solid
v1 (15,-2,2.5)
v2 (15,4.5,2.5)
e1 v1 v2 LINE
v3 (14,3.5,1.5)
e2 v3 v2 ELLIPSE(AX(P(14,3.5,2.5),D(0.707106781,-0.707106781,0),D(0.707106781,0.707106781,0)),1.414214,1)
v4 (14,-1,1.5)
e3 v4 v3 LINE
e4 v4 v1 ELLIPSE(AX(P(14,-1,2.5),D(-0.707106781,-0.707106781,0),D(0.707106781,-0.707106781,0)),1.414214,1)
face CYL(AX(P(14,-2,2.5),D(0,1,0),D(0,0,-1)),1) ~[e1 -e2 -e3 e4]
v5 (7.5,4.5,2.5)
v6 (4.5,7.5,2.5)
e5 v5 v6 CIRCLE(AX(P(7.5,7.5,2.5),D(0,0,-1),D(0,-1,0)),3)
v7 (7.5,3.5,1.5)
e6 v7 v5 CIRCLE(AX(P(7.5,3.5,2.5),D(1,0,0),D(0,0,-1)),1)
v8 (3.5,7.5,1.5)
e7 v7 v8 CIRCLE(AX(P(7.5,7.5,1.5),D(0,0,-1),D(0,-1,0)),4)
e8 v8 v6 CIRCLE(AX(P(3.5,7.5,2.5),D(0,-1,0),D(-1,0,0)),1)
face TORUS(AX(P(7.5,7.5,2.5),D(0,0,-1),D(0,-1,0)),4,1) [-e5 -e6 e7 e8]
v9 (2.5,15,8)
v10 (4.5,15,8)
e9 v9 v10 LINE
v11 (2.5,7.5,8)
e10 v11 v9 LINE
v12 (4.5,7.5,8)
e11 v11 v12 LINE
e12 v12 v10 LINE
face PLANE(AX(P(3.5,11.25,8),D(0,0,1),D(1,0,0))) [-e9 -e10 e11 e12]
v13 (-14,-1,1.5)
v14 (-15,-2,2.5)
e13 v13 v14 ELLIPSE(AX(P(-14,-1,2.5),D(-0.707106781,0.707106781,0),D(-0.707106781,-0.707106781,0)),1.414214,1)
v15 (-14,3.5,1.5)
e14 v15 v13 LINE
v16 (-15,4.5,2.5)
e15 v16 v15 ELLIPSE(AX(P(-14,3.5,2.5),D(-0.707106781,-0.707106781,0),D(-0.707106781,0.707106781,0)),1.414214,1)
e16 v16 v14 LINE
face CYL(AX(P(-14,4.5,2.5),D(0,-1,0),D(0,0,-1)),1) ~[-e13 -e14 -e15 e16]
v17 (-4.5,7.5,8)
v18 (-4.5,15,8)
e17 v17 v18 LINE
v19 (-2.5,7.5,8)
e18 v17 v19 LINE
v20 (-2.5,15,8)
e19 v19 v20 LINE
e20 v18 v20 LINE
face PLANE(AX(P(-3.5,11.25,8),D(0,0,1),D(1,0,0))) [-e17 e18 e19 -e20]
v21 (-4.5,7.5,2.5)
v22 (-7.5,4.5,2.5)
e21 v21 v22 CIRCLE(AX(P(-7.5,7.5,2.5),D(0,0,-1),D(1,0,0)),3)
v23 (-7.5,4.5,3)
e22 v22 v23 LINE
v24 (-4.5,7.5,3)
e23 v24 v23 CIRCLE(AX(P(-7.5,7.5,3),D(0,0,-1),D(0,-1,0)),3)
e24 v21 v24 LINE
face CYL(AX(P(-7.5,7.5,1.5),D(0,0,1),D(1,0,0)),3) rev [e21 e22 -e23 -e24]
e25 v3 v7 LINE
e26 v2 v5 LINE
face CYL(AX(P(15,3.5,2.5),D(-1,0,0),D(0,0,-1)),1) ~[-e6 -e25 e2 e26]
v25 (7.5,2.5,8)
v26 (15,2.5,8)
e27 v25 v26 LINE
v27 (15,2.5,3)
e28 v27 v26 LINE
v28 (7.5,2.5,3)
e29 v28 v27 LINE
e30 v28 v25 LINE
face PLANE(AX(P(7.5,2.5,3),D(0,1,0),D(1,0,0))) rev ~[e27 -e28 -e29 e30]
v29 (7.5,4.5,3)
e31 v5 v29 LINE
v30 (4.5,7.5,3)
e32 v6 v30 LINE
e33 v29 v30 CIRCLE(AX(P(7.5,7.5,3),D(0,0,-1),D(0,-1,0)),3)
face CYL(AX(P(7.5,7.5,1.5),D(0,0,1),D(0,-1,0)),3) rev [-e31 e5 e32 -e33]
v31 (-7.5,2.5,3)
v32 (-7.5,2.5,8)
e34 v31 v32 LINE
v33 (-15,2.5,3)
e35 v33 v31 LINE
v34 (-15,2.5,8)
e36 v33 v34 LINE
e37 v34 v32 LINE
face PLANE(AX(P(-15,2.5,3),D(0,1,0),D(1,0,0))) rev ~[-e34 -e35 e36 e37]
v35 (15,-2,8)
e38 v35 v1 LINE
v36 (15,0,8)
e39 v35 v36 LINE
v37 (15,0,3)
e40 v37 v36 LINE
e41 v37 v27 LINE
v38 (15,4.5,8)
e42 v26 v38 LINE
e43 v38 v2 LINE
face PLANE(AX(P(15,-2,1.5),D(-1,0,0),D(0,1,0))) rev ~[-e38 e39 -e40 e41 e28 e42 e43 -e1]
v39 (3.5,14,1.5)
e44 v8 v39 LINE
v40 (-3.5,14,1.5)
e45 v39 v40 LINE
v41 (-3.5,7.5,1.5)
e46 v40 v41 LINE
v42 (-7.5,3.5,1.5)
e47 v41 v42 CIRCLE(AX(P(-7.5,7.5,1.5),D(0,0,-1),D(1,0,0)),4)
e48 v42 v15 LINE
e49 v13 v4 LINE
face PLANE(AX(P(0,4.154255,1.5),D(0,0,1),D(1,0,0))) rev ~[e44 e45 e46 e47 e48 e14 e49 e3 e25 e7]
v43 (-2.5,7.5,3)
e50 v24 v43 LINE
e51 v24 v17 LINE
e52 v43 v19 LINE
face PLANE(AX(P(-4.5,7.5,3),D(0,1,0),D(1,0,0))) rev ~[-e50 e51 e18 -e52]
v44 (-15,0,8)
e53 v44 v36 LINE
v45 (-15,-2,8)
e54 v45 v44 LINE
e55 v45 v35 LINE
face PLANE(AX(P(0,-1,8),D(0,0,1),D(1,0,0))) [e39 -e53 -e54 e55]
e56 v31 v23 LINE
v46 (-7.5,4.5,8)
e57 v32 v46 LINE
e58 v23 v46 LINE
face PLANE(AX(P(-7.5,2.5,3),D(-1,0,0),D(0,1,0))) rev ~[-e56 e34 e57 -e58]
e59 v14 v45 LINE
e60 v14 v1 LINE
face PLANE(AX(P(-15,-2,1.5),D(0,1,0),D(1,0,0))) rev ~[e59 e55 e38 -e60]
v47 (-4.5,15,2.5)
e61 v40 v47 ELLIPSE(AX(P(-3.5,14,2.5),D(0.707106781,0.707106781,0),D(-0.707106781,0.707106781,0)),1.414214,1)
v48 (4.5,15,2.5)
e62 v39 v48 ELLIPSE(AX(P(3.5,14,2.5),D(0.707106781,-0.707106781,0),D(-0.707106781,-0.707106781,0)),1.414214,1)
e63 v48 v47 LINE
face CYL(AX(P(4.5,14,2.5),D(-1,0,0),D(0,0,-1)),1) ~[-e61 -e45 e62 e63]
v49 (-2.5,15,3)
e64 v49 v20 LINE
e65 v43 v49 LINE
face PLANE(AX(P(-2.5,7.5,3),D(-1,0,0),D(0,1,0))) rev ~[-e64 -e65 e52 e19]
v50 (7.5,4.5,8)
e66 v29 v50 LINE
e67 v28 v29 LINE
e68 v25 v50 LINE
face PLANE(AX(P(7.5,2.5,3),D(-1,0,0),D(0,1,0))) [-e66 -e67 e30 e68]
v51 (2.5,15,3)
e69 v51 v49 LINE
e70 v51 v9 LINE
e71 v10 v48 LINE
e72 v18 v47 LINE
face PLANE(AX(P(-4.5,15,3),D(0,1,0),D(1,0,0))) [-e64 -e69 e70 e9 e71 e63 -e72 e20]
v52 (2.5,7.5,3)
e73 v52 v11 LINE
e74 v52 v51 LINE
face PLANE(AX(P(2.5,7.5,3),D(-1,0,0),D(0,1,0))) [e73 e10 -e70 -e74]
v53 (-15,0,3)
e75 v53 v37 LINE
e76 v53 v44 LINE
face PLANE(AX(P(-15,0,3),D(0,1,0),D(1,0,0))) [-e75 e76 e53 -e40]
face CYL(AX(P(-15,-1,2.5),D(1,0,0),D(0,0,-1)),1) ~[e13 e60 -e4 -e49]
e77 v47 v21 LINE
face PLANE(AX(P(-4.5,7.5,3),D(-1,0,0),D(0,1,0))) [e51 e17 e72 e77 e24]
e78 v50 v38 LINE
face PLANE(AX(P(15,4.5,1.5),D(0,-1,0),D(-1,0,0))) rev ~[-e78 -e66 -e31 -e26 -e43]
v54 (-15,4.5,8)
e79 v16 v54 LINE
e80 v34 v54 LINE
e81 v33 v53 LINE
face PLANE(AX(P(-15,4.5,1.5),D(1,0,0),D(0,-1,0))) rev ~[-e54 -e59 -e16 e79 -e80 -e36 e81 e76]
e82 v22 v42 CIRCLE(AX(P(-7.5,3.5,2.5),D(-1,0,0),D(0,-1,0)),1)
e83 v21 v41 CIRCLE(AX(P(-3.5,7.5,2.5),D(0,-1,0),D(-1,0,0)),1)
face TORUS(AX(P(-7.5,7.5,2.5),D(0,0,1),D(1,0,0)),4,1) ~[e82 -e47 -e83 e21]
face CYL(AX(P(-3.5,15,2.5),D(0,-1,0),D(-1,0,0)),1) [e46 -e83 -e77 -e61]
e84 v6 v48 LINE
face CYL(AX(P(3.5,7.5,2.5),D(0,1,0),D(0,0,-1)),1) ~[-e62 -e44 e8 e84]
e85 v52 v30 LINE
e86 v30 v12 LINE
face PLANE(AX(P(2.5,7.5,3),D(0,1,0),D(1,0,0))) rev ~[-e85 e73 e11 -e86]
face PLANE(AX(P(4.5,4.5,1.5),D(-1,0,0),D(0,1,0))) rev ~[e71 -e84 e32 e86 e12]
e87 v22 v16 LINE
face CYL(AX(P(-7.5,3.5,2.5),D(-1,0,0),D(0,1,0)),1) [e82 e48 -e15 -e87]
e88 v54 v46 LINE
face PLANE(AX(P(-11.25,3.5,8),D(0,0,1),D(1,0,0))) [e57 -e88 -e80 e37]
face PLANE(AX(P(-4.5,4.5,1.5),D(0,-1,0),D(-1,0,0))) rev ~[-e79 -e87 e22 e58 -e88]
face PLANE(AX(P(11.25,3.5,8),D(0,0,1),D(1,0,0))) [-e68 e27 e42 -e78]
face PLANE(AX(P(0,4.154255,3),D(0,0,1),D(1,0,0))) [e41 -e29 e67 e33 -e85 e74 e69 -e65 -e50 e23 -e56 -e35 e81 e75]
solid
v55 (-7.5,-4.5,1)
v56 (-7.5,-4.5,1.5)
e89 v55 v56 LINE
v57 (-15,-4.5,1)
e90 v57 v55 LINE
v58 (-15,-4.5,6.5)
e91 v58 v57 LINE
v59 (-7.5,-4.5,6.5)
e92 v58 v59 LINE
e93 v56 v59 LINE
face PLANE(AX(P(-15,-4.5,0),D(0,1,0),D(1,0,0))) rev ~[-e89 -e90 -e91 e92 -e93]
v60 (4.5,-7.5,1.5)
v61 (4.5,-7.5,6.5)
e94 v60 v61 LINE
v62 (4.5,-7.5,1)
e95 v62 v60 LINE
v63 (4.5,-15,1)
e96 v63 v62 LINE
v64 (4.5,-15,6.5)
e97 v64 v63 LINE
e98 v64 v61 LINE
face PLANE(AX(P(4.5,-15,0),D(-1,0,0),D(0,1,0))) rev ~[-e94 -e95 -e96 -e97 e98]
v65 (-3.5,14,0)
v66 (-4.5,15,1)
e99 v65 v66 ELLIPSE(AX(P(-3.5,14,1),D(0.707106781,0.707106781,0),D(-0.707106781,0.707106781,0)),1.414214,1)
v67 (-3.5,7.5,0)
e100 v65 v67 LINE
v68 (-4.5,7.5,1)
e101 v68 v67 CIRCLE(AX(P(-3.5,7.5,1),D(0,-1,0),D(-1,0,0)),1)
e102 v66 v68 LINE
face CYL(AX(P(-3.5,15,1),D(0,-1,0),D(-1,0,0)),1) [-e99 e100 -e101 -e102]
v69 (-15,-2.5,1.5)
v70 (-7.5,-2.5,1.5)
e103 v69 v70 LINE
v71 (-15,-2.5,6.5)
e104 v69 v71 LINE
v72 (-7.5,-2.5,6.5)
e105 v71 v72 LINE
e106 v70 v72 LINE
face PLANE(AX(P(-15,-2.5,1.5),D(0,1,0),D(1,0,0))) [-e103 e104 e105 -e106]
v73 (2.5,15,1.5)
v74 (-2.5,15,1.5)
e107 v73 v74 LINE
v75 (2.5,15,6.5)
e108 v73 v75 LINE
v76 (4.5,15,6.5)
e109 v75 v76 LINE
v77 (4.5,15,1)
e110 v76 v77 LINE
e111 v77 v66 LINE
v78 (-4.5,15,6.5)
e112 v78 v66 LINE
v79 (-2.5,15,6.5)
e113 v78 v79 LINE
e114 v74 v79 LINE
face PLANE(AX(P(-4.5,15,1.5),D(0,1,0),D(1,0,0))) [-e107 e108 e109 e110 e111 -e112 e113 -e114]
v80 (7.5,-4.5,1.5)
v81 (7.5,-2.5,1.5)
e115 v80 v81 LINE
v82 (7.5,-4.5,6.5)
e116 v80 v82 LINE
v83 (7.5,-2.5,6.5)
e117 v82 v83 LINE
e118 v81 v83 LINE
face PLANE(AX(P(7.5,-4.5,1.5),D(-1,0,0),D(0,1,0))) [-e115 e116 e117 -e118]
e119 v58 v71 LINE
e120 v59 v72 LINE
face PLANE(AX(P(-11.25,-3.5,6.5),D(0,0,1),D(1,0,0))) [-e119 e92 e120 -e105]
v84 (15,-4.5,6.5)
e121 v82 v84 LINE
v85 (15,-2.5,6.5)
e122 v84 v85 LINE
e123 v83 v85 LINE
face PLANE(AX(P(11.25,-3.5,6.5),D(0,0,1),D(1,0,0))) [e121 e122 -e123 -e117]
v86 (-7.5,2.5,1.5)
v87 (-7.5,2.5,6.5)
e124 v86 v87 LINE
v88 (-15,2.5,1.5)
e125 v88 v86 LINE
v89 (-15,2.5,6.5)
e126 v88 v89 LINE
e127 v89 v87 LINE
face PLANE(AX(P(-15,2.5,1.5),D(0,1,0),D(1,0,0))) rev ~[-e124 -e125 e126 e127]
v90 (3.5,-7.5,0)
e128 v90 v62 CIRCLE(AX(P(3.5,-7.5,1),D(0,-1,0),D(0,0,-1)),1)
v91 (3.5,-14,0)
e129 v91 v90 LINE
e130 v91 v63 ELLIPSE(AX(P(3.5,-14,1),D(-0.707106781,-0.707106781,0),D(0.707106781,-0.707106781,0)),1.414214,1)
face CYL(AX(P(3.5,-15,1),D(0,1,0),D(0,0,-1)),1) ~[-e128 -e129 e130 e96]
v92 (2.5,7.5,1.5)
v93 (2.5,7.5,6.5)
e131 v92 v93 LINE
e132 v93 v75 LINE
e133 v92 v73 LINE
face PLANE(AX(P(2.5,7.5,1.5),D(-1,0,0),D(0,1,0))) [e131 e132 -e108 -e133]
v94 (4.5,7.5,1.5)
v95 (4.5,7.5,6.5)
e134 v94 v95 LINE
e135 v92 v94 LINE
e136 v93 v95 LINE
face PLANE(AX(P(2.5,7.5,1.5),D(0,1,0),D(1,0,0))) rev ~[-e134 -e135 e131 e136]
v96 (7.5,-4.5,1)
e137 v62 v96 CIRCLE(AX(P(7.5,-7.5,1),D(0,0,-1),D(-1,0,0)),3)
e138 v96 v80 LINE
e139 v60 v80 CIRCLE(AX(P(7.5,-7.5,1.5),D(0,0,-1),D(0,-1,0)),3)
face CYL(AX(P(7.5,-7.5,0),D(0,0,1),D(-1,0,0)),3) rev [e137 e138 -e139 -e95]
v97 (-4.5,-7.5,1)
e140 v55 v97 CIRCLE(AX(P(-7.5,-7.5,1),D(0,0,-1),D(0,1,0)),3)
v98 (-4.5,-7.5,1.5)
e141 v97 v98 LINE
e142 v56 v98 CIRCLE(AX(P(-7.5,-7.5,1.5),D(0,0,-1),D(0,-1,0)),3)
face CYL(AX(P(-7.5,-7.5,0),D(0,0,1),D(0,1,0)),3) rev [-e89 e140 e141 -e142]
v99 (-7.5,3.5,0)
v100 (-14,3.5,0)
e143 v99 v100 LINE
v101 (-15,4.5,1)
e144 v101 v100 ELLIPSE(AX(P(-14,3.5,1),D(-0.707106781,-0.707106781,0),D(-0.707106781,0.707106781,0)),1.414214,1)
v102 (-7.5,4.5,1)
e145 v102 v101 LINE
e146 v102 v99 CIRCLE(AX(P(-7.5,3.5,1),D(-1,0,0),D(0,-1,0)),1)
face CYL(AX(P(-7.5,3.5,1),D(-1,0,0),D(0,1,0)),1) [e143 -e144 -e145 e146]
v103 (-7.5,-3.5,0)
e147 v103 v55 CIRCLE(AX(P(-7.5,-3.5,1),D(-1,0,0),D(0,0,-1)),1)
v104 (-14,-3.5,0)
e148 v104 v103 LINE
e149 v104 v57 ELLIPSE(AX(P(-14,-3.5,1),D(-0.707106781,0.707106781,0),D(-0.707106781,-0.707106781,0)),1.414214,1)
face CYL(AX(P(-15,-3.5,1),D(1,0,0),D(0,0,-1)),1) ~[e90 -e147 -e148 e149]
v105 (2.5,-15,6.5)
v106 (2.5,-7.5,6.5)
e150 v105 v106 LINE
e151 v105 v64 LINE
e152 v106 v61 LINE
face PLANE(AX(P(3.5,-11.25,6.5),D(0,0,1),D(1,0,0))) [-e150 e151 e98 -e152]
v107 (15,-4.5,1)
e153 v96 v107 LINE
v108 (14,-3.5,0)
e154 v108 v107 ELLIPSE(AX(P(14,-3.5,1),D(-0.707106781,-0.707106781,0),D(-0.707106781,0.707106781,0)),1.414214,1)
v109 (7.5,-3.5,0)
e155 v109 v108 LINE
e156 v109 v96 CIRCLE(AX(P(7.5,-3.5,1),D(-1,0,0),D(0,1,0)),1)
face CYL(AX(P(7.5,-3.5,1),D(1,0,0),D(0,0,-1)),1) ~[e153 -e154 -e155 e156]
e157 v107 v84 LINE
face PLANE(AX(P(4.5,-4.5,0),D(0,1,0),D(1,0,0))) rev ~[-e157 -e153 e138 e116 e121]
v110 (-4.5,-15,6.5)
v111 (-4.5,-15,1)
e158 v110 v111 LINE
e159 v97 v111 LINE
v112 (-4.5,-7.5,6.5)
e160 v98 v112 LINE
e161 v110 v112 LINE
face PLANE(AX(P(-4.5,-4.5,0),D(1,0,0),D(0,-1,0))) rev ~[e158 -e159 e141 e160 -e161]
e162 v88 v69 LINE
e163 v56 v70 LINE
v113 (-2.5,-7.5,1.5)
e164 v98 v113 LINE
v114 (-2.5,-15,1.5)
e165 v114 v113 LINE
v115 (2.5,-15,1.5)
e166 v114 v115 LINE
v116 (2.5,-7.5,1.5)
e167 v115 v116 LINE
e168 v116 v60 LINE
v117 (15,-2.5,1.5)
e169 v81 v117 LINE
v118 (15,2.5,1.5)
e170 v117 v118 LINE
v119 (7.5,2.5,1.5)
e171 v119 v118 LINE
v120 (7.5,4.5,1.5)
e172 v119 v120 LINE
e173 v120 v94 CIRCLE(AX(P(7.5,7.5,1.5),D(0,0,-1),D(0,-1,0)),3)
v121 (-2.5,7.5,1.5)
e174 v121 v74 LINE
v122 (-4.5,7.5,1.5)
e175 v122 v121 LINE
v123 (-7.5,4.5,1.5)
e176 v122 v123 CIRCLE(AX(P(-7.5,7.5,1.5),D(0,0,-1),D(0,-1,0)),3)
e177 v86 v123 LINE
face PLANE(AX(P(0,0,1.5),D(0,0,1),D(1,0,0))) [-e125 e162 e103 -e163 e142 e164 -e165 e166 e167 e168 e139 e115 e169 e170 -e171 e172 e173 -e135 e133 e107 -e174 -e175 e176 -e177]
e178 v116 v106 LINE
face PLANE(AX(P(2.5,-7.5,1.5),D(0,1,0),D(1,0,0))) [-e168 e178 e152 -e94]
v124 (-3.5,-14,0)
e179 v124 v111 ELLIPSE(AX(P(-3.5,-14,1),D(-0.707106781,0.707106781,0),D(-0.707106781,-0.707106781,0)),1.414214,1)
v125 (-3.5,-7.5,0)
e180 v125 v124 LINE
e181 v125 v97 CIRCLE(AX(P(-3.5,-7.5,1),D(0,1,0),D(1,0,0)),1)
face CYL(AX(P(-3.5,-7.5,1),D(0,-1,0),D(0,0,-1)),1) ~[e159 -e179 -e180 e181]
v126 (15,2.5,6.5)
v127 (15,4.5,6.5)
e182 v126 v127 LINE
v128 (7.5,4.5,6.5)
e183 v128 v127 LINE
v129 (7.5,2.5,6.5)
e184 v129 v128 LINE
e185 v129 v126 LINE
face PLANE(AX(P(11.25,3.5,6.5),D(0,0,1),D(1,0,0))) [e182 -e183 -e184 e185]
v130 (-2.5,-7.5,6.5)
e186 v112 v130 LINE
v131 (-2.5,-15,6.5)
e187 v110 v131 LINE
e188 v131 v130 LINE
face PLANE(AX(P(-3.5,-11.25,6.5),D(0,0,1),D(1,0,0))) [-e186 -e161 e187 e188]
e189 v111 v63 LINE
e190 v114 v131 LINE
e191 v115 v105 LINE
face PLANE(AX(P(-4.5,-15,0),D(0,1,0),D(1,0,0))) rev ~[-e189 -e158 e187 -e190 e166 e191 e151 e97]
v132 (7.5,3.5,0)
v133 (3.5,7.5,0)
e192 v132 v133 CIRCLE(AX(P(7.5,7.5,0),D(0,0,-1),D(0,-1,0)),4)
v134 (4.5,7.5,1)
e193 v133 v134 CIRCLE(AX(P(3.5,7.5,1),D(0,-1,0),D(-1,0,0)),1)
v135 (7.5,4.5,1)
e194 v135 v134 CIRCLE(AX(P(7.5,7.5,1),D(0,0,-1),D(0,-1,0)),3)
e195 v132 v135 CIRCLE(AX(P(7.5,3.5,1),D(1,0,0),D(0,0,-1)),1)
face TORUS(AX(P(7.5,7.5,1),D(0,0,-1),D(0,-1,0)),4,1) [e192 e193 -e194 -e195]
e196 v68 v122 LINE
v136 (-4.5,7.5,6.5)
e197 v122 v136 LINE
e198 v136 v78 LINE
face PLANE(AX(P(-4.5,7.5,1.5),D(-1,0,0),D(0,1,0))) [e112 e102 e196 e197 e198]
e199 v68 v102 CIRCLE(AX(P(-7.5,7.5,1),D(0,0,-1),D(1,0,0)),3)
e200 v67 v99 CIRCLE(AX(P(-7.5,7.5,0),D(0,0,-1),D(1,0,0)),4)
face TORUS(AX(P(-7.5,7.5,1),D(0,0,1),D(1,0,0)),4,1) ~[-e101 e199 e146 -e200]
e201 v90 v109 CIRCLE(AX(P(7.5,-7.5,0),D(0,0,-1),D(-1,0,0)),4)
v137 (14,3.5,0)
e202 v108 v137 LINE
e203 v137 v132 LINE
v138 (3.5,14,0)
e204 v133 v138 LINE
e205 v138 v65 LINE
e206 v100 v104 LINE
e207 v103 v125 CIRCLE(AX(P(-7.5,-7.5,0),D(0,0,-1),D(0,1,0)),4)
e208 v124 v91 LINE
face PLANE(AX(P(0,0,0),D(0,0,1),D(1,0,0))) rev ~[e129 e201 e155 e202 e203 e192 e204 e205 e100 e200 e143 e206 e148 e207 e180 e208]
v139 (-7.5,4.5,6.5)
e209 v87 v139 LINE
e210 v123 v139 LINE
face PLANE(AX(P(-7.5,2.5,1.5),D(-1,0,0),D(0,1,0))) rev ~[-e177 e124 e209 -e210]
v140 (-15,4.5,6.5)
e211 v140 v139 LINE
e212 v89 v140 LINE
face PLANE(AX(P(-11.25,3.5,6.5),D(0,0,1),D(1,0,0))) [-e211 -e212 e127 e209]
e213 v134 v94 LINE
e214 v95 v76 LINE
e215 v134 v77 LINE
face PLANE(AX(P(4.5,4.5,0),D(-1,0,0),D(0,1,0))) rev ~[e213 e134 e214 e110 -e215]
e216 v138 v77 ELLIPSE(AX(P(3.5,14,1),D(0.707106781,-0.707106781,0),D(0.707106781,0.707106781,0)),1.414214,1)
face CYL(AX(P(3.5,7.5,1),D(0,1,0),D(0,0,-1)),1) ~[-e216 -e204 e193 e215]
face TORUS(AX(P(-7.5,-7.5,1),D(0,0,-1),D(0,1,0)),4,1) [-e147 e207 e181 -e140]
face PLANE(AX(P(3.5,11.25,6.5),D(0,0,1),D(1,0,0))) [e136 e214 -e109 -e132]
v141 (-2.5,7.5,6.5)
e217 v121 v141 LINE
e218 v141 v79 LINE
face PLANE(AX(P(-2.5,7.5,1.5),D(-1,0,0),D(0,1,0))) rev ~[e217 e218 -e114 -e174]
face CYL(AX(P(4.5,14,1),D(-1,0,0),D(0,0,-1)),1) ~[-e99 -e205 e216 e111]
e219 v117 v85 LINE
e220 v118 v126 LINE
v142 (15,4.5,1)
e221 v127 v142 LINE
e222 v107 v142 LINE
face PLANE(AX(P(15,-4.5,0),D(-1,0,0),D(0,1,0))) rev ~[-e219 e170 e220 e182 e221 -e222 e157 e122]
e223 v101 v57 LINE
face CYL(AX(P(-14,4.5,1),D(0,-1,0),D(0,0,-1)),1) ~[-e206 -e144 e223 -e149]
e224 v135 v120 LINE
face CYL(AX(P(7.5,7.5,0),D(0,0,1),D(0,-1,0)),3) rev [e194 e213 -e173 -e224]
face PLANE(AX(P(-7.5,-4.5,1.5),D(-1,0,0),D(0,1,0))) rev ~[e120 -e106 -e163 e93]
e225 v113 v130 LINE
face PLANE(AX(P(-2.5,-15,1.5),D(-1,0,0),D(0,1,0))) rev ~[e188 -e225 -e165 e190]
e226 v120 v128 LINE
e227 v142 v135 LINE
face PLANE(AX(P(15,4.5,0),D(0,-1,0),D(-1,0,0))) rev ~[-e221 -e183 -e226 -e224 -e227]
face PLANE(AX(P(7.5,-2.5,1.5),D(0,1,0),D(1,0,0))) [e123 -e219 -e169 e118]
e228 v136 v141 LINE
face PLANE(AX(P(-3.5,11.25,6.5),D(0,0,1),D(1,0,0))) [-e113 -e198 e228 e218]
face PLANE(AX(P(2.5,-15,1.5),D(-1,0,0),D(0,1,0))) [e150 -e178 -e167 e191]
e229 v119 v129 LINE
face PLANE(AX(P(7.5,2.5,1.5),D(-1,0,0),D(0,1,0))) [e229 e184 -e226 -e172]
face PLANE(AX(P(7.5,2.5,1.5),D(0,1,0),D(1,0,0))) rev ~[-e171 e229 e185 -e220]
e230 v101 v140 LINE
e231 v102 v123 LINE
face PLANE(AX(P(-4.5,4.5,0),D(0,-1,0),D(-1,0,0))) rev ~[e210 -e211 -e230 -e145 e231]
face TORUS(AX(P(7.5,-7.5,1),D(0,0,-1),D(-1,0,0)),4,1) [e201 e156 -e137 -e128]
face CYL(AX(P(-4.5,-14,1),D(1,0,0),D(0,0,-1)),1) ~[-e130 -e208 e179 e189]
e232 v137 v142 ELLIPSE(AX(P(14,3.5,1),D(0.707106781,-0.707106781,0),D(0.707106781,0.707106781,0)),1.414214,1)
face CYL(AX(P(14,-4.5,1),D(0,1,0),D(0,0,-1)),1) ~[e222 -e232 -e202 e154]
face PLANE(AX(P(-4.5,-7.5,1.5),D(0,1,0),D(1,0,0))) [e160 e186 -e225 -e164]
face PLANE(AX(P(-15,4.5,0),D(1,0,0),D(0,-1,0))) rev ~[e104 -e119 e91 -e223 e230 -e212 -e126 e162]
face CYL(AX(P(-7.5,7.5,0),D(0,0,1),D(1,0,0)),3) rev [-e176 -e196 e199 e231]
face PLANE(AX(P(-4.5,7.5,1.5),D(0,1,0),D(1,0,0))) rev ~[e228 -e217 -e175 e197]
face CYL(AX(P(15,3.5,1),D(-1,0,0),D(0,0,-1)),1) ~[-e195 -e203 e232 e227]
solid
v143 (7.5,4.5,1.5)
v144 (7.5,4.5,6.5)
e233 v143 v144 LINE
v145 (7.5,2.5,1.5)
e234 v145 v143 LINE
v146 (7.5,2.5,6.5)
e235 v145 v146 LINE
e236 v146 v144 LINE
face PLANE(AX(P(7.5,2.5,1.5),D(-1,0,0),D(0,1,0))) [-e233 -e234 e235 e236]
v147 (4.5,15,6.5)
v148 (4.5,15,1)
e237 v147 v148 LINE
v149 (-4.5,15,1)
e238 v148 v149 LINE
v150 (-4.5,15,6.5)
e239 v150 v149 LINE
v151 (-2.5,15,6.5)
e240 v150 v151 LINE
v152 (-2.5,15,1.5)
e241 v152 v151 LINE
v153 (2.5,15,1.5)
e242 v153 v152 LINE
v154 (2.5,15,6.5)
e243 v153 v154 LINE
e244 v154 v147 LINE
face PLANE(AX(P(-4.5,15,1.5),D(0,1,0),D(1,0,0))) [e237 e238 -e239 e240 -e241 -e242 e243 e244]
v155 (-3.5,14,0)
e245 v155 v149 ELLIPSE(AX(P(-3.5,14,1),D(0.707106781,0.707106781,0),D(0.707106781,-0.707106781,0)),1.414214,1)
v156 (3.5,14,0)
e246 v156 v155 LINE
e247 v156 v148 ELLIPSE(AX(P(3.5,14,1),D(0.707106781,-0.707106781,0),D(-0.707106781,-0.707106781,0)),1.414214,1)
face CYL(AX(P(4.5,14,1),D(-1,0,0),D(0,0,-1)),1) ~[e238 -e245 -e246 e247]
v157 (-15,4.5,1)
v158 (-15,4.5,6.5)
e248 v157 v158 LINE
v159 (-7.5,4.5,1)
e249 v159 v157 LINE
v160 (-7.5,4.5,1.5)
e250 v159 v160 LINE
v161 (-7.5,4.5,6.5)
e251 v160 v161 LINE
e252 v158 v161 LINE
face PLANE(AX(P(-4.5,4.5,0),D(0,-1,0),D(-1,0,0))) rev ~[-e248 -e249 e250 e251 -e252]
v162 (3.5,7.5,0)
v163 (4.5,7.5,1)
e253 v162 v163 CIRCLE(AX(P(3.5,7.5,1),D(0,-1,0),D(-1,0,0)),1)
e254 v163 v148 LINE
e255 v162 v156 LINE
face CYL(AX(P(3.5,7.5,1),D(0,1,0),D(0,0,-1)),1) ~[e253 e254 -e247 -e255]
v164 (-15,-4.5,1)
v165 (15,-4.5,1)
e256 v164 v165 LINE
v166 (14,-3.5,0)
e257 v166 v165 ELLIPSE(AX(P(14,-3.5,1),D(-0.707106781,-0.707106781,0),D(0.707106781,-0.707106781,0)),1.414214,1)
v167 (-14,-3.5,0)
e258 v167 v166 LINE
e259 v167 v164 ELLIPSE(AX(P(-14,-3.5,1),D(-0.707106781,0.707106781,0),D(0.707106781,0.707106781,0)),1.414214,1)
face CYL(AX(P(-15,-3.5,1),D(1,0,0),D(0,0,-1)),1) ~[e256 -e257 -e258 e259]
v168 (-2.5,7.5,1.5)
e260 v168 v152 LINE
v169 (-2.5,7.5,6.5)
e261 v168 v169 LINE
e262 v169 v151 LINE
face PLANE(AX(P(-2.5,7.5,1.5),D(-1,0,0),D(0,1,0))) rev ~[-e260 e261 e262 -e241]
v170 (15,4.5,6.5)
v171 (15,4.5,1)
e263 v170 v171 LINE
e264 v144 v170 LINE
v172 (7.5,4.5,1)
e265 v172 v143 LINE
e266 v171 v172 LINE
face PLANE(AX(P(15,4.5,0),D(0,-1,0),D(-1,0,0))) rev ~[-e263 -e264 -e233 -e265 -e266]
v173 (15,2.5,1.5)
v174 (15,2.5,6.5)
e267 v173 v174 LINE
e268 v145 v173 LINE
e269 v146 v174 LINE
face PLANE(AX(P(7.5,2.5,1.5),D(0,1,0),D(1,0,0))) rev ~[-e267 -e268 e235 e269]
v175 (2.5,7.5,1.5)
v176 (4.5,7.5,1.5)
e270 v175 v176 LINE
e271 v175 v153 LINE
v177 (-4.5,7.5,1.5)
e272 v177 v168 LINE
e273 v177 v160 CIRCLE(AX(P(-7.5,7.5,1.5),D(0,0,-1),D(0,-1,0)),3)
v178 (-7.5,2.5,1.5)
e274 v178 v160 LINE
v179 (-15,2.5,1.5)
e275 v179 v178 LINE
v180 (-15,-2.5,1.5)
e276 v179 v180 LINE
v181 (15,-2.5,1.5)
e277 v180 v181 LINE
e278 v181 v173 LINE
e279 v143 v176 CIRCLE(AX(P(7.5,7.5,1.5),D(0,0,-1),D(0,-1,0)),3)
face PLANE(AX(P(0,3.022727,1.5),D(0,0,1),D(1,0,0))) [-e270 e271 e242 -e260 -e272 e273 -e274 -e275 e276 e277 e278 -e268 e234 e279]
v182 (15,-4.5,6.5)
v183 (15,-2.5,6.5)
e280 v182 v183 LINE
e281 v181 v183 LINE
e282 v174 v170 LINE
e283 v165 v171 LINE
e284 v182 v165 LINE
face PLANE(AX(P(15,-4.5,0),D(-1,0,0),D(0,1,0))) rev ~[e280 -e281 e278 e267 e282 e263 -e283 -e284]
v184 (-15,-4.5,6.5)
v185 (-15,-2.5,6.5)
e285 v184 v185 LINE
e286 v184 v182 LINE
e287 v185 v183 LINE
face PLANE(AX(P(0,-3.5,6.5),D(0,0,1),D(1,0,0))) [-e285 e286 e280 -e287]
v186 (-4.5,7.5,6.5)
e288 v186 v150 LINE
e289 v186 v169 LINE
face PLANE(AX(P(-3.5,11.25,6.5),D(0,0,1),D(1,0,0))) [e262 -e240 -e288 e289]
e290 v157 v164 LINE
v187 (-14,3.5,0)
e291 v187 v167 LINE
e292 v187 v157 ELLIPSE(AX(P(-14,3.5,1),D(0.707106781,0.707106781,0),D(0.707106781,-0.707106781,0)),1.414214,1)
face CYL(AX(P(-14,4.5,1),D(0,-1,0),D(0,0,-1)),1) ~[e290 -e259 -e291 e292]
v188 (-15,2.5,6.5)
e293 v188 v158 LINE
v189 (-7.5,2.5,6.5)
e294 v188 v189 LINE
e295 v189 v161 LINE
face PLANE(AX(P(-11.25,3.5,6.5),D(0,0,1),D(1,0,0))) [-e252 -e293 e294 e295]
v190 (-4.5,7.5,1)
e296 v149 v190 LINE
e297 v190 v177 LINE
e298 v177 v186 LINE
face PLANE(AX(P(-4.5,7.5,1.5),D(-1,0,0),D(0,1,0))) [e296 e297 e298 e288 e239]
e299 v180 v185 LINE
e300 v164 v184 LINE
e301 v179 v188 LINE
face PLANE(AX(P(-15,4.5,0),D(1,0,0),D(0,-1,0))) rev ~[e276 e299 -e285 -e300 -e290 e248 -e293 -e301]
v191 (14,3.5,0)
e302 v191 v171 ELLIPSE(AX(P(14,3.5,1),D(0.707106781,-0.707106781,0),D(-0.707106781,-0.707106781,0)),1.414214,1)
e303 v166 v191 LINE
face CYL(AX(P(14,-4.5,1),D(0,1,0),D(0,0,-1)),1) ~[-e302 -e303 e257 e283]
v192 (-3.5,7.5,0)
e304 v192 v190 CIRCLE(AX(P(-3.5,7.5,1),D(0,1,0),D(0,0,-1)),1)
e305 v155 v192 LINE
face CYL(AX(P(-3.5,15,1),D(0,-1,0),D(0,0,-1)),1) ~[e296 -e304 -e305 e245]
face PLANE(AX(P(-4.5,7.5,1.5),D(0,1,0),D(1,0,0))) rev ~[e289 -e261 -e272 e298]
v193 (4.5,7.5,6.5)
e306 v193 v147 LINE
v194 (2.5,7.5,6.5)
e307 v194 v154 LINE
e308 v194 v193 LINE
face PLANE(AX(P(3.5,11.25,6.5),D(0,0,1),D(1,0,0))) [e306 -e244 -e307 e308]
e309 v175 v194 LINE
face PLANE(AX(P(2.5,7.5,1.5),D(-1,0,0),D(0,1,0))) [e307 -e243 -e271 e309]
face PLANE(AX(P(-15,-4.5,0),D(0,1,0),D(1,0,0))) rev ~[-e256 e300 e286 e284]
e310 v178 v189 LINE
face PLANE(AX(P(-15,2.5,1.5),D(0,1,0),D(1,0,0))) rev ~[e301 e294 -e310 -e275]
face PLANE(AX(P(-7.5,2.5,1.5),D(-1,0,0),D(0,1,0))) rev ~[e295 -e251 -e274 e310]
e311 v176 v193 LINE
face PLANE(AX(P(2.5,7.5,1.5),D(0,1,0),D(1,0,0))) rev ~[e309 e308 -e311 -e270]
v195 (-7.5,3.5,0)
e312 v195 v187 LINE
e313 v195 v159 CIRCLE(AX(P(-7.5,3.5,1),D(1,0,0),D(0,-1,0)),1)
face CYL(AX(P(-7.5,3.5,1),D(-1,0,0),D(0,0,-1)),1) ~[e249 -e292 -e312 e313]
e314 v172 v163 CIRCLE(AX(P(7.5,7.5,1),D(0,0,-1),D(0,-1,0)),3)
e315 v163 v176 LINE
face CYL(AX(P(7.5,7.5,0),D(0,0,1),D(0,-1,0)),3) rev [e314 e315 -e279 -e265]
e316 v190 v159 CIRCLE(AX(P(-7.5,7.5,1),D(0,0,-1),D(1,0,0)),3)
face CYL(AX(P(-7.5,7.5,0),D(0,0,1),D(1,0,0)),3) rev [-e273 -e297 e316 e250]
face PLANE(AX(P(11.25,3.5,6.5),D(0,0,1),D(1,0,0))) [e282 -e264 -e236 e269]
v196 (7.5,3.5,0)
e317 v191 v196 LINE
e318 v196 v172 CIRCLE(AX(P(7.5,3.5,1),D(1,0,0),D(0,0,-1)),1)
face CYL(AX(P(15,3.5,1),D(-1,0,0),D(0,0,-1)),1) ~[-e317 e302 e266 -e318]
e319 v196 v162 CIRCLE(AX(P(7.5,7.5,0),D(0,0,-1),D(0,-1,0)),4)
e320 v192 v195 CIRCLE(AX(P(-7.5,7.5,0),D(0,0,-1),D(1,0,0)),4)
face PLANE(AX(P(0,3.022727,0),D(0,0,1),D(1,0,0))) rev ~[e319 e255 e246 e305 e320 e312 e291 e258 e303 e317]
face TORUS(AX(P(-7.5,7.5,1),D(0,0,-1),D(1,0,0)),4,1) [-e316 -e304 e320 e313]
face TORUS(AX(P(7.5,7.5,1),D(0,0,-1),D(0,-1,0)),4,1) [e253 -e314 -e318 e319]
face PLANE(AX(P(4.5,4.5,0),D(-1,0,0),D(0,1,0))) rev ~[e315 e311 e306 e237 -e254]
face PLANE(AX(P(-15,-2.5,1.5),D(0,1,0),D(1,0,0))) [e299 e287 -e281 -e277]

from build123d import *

# Parameters (mm, degrees)
PAD_DEPTH     = 1.5
SKETCH001_W   = 2
SKETCH001_H   = 7.5
SKETCH001_W_2 = 7.5
SKETCH001_H_2 = 2
SKETCH001_W_3 = 30
PAD001_DEPTH  = 5
FILLET_R      = 3
FILLET002_R   = 1
PAD002_DEPTH  = 1.5
SKETCH003_W   = 2
SKETCH003_H   = 7.5
SKETCH003_W_2 = 7.5
SKETCH003_H_2 = 2
PAD003_DEPTH  = 5
FILLET001_R   = 3
FILLET003_R   = 1
PAD004_DEPTH  = 1.5
SKETCH005_W   = 2
SKETCH005_H   = 7.5
SKETCH005_W_2 = 7.5
SKETCH005_H_2 = 2
SKETCH005_W_3 = 30
PAD005_DEPTH  = 5
FILLET004_R   = 3
FILLET005_R   = 1


with BuildPart() as b_t:
    # Sketch (on Sketch) → Pad (new body)
    with BuildSketch(Plane.XY.offset(1.5)):
        Polygon((-15, -2), (15, -2), (15, 4.5), (4.5, 4.5), (4.5, 15), (-4.5, 15), (-4.5, 4.5), (-15, 4.5), align=None)
    extrude(amount=PAD_DEPTH)

    # Sketch001 (on Face10 of Pad) → Pad001 (join)
    with BuildSketch(Plane.XY.offset(3)):
        with Locations((-3.5, 11.25)):
            Rectangle(SKETCH001_W, SKETCH001_H)
        with Locations((3.5, 11.25)):
            Rectangle(SKETCH001_W, SKETCH001_H)
        with Locations((11.25, 3.5)):
            Rectangle(SKETCH001_W_2, SKETCH001_H_2)
        with Locations((-11.25, 3.5)):
            Rectangle(SKETCH001_W_2, SKETCH001_H_2)
        with Locations((0, -1)):
            Rectangle(SKETCH001_W_3, SKETCH001_H_2)
    extrude(amount=PAD001_DEPTH)

    # Fillet
    fillet_edges = [b_t.edges().sort_by_distance(p)[0] for p in [
        (4.5, 4.5, 2.25),
        (-4.5, 4.5, 2.25),
    ]]
    fillet(fillet_edges, radius=FILLET_R)

    # Fillet002
    fillet002_edges = [b_t.edges().sort_by_distance(p)[0] for p in [
        (0, 15, 1.5),
        (-4.5, 11.25, 1.5),
        (-5.37868, 5.37868, 1.5),
        (-11.25, 4.5, 1.5),
        (-15, 1.25, 1.5),
        (0, -2, 1.5),
        (15, 1.25, 1.5),
        (11.25, 4.5, 1.5),
        (5.37868, 5.37868, 1.5),
        (4.5, 11.25, 1.5),
    ]]
    fillet(fillet002_edges, radius=FILLET002_R)


with BuildPart() as b_x:
    # Sketch002 → Pad002 (new body)
    with BuildSketch(Plane.XY):
        Polygon((15, -4.5), (15, 4.5), (4.5, 4.5), (4.5, 15), (-4.5, 15), (-4.5, 4.5), (-15, 4.5), (-15, -4.5), (-4.5, -4.5), (-4.5, -15), (4.5, -15), (4.5, -4.5), align=None)
    extrude(amount=PAD002_DEPTH)

    # Sketch003 (on Face14 of Pad002) → Pad003 (join)
    with BuildSketch(Plane.XY.offset(1.5)):
        with Locations((-3.5, 11.25)):
            Rectangle(SKETCH003_W, SKETCH003_H)
        with Locations((3.5, 11.25)):
            Rectangle(SKETCH003_W, SKETCH003_H)
        with Locations((11.25, 3.5)):
            Rectangle(SKETCH003_W_2, SKETCH003_H_2)
        with Locations((11.25, -3.5)):
            Rectangle(SKETCH003_W_2, SKETCH003_H_2)
        with Locations((3.5, -11.25)):
            Rectangle(SKETCH003_W, SKETCH003_H)
        with Locations((-3.5, -11.25)):
            Rectangle(SKETCH003_W, SKETCH003_H)
        with Locations((-11.25, -3.5)):
            Rectangle(SKETCH003_W_2, SKETCH003_H_2)
        with Locations((-11.25, 3.5)):
            Rectangle(SKETCH003_W_2, SKETCH003_H_2)
    extrude(amount=PAD003_DEPTH)

    # Fillet001
    fillet001_edges = [b_x.edges().sort_by_distance(p)[0] for p in [
        (4.5, -4.5, 0.75),
        (-4.5, -4.5, 0.75),
        (-4.5, 4.5, 0.75),
        (4.5, 4.5, 0.75),
    ]]
    fillet(fillet001_edges, radius=FILLET001_R)

    # Fillet003
    fillet003_edges = [b_x.edges().sort_by_distance(p)[0] for p in [
        (15, 0, 0),
        (11.25, 4.5, 0),
        (5.37868, 5.37868, 0),
        (4.5, 11.25, 0),
        (0, 15, 0),
        (-4.5, 11.25, 0),
        (-5.37868, 5.37868, 0),
        (-11.25, 4.5, 0),
        (-15, 0, 0),
        (-11.25, -4.5, 0),
        (-5.37868, -5.37868, 0),
        (-4.5, -11.25, 0),
        (0, -15, 0),
        (4.5, -11.25, 0),
        (5.37868, -5.37868, 0),
        (11.25, -4.5, 0),
    ]]
    fillet(fillet003_edges, radius=FILLET003_R)


with BuildPart() as b_t2:
    # Sketch004 → Pad004 (new body)
    with BuildSketch(Plane.XY):
        Polygon((-15, -4.5), (15, -4.5), (15, 4.5), (4.5, 4.5), (4.5, 15), (-4.5, 15), (-4.5, 4.5), (-15, 4.5), align=None)
    extrude(amount=PAD004_DEPTH)

    # Sketch005 (on Face10 of Pad004) → Pad005 (join)
    with BuildSketch(Plane.XY.offset(1.5)):
        with Locations((-3.5, 11.25)):
            Rectangle(SKETCH005_W, SKETCH005_H)
        with Locations((3.5, 11.25)):
            Rectangle(SKETCH005_W, SKETCH005_H)
        with Locations((11.25, 3.5)):
            Rectangle(SKETCH005_W_2, SKETCH005_H_2)
        with Locations((-11.25, 3.5)):
            Rectangle(SKETCH005_W_2, SKETCH005_H_2)
        with Locations((0, -3.5)):
            Rectangle(SKETCH005_W_3, SKETCH005_H_2)
    extrude(amount=PAD005_DEPTH)

    # Fillet004
    fillet004_edges = [b_t2.edges().sort_by_distance(p)[0] for p in [
        (4.5, 4.5, 0.75),
        (-4.5, 4.5, 0.75),
    ]]
    fillet(fillet004_edges, radius=FILLET004_R)

    # Fillet005
    fillet005_edges = [b_t2.edges().sort_by_distance(p)[0] for p in [
        (0, -4.5, 0),
        (-15, 0, 0),
        (-11.25, 4.5, 0),
        (-5.37868, 5.37868, 0),
        (-4.5, 11.25, 0),
        (0, 15, 0),
        (4.5, 11.25, 0),
        (5.37868, 5.37868, 0),
        (11.25, 4.5, 0),
        (15, 0, 0),
    ]]
    fillet(fillet005_edges, radius=FILLET005_R)


solid = Compound([b_t.part, b_x.part, b_t2.part])
